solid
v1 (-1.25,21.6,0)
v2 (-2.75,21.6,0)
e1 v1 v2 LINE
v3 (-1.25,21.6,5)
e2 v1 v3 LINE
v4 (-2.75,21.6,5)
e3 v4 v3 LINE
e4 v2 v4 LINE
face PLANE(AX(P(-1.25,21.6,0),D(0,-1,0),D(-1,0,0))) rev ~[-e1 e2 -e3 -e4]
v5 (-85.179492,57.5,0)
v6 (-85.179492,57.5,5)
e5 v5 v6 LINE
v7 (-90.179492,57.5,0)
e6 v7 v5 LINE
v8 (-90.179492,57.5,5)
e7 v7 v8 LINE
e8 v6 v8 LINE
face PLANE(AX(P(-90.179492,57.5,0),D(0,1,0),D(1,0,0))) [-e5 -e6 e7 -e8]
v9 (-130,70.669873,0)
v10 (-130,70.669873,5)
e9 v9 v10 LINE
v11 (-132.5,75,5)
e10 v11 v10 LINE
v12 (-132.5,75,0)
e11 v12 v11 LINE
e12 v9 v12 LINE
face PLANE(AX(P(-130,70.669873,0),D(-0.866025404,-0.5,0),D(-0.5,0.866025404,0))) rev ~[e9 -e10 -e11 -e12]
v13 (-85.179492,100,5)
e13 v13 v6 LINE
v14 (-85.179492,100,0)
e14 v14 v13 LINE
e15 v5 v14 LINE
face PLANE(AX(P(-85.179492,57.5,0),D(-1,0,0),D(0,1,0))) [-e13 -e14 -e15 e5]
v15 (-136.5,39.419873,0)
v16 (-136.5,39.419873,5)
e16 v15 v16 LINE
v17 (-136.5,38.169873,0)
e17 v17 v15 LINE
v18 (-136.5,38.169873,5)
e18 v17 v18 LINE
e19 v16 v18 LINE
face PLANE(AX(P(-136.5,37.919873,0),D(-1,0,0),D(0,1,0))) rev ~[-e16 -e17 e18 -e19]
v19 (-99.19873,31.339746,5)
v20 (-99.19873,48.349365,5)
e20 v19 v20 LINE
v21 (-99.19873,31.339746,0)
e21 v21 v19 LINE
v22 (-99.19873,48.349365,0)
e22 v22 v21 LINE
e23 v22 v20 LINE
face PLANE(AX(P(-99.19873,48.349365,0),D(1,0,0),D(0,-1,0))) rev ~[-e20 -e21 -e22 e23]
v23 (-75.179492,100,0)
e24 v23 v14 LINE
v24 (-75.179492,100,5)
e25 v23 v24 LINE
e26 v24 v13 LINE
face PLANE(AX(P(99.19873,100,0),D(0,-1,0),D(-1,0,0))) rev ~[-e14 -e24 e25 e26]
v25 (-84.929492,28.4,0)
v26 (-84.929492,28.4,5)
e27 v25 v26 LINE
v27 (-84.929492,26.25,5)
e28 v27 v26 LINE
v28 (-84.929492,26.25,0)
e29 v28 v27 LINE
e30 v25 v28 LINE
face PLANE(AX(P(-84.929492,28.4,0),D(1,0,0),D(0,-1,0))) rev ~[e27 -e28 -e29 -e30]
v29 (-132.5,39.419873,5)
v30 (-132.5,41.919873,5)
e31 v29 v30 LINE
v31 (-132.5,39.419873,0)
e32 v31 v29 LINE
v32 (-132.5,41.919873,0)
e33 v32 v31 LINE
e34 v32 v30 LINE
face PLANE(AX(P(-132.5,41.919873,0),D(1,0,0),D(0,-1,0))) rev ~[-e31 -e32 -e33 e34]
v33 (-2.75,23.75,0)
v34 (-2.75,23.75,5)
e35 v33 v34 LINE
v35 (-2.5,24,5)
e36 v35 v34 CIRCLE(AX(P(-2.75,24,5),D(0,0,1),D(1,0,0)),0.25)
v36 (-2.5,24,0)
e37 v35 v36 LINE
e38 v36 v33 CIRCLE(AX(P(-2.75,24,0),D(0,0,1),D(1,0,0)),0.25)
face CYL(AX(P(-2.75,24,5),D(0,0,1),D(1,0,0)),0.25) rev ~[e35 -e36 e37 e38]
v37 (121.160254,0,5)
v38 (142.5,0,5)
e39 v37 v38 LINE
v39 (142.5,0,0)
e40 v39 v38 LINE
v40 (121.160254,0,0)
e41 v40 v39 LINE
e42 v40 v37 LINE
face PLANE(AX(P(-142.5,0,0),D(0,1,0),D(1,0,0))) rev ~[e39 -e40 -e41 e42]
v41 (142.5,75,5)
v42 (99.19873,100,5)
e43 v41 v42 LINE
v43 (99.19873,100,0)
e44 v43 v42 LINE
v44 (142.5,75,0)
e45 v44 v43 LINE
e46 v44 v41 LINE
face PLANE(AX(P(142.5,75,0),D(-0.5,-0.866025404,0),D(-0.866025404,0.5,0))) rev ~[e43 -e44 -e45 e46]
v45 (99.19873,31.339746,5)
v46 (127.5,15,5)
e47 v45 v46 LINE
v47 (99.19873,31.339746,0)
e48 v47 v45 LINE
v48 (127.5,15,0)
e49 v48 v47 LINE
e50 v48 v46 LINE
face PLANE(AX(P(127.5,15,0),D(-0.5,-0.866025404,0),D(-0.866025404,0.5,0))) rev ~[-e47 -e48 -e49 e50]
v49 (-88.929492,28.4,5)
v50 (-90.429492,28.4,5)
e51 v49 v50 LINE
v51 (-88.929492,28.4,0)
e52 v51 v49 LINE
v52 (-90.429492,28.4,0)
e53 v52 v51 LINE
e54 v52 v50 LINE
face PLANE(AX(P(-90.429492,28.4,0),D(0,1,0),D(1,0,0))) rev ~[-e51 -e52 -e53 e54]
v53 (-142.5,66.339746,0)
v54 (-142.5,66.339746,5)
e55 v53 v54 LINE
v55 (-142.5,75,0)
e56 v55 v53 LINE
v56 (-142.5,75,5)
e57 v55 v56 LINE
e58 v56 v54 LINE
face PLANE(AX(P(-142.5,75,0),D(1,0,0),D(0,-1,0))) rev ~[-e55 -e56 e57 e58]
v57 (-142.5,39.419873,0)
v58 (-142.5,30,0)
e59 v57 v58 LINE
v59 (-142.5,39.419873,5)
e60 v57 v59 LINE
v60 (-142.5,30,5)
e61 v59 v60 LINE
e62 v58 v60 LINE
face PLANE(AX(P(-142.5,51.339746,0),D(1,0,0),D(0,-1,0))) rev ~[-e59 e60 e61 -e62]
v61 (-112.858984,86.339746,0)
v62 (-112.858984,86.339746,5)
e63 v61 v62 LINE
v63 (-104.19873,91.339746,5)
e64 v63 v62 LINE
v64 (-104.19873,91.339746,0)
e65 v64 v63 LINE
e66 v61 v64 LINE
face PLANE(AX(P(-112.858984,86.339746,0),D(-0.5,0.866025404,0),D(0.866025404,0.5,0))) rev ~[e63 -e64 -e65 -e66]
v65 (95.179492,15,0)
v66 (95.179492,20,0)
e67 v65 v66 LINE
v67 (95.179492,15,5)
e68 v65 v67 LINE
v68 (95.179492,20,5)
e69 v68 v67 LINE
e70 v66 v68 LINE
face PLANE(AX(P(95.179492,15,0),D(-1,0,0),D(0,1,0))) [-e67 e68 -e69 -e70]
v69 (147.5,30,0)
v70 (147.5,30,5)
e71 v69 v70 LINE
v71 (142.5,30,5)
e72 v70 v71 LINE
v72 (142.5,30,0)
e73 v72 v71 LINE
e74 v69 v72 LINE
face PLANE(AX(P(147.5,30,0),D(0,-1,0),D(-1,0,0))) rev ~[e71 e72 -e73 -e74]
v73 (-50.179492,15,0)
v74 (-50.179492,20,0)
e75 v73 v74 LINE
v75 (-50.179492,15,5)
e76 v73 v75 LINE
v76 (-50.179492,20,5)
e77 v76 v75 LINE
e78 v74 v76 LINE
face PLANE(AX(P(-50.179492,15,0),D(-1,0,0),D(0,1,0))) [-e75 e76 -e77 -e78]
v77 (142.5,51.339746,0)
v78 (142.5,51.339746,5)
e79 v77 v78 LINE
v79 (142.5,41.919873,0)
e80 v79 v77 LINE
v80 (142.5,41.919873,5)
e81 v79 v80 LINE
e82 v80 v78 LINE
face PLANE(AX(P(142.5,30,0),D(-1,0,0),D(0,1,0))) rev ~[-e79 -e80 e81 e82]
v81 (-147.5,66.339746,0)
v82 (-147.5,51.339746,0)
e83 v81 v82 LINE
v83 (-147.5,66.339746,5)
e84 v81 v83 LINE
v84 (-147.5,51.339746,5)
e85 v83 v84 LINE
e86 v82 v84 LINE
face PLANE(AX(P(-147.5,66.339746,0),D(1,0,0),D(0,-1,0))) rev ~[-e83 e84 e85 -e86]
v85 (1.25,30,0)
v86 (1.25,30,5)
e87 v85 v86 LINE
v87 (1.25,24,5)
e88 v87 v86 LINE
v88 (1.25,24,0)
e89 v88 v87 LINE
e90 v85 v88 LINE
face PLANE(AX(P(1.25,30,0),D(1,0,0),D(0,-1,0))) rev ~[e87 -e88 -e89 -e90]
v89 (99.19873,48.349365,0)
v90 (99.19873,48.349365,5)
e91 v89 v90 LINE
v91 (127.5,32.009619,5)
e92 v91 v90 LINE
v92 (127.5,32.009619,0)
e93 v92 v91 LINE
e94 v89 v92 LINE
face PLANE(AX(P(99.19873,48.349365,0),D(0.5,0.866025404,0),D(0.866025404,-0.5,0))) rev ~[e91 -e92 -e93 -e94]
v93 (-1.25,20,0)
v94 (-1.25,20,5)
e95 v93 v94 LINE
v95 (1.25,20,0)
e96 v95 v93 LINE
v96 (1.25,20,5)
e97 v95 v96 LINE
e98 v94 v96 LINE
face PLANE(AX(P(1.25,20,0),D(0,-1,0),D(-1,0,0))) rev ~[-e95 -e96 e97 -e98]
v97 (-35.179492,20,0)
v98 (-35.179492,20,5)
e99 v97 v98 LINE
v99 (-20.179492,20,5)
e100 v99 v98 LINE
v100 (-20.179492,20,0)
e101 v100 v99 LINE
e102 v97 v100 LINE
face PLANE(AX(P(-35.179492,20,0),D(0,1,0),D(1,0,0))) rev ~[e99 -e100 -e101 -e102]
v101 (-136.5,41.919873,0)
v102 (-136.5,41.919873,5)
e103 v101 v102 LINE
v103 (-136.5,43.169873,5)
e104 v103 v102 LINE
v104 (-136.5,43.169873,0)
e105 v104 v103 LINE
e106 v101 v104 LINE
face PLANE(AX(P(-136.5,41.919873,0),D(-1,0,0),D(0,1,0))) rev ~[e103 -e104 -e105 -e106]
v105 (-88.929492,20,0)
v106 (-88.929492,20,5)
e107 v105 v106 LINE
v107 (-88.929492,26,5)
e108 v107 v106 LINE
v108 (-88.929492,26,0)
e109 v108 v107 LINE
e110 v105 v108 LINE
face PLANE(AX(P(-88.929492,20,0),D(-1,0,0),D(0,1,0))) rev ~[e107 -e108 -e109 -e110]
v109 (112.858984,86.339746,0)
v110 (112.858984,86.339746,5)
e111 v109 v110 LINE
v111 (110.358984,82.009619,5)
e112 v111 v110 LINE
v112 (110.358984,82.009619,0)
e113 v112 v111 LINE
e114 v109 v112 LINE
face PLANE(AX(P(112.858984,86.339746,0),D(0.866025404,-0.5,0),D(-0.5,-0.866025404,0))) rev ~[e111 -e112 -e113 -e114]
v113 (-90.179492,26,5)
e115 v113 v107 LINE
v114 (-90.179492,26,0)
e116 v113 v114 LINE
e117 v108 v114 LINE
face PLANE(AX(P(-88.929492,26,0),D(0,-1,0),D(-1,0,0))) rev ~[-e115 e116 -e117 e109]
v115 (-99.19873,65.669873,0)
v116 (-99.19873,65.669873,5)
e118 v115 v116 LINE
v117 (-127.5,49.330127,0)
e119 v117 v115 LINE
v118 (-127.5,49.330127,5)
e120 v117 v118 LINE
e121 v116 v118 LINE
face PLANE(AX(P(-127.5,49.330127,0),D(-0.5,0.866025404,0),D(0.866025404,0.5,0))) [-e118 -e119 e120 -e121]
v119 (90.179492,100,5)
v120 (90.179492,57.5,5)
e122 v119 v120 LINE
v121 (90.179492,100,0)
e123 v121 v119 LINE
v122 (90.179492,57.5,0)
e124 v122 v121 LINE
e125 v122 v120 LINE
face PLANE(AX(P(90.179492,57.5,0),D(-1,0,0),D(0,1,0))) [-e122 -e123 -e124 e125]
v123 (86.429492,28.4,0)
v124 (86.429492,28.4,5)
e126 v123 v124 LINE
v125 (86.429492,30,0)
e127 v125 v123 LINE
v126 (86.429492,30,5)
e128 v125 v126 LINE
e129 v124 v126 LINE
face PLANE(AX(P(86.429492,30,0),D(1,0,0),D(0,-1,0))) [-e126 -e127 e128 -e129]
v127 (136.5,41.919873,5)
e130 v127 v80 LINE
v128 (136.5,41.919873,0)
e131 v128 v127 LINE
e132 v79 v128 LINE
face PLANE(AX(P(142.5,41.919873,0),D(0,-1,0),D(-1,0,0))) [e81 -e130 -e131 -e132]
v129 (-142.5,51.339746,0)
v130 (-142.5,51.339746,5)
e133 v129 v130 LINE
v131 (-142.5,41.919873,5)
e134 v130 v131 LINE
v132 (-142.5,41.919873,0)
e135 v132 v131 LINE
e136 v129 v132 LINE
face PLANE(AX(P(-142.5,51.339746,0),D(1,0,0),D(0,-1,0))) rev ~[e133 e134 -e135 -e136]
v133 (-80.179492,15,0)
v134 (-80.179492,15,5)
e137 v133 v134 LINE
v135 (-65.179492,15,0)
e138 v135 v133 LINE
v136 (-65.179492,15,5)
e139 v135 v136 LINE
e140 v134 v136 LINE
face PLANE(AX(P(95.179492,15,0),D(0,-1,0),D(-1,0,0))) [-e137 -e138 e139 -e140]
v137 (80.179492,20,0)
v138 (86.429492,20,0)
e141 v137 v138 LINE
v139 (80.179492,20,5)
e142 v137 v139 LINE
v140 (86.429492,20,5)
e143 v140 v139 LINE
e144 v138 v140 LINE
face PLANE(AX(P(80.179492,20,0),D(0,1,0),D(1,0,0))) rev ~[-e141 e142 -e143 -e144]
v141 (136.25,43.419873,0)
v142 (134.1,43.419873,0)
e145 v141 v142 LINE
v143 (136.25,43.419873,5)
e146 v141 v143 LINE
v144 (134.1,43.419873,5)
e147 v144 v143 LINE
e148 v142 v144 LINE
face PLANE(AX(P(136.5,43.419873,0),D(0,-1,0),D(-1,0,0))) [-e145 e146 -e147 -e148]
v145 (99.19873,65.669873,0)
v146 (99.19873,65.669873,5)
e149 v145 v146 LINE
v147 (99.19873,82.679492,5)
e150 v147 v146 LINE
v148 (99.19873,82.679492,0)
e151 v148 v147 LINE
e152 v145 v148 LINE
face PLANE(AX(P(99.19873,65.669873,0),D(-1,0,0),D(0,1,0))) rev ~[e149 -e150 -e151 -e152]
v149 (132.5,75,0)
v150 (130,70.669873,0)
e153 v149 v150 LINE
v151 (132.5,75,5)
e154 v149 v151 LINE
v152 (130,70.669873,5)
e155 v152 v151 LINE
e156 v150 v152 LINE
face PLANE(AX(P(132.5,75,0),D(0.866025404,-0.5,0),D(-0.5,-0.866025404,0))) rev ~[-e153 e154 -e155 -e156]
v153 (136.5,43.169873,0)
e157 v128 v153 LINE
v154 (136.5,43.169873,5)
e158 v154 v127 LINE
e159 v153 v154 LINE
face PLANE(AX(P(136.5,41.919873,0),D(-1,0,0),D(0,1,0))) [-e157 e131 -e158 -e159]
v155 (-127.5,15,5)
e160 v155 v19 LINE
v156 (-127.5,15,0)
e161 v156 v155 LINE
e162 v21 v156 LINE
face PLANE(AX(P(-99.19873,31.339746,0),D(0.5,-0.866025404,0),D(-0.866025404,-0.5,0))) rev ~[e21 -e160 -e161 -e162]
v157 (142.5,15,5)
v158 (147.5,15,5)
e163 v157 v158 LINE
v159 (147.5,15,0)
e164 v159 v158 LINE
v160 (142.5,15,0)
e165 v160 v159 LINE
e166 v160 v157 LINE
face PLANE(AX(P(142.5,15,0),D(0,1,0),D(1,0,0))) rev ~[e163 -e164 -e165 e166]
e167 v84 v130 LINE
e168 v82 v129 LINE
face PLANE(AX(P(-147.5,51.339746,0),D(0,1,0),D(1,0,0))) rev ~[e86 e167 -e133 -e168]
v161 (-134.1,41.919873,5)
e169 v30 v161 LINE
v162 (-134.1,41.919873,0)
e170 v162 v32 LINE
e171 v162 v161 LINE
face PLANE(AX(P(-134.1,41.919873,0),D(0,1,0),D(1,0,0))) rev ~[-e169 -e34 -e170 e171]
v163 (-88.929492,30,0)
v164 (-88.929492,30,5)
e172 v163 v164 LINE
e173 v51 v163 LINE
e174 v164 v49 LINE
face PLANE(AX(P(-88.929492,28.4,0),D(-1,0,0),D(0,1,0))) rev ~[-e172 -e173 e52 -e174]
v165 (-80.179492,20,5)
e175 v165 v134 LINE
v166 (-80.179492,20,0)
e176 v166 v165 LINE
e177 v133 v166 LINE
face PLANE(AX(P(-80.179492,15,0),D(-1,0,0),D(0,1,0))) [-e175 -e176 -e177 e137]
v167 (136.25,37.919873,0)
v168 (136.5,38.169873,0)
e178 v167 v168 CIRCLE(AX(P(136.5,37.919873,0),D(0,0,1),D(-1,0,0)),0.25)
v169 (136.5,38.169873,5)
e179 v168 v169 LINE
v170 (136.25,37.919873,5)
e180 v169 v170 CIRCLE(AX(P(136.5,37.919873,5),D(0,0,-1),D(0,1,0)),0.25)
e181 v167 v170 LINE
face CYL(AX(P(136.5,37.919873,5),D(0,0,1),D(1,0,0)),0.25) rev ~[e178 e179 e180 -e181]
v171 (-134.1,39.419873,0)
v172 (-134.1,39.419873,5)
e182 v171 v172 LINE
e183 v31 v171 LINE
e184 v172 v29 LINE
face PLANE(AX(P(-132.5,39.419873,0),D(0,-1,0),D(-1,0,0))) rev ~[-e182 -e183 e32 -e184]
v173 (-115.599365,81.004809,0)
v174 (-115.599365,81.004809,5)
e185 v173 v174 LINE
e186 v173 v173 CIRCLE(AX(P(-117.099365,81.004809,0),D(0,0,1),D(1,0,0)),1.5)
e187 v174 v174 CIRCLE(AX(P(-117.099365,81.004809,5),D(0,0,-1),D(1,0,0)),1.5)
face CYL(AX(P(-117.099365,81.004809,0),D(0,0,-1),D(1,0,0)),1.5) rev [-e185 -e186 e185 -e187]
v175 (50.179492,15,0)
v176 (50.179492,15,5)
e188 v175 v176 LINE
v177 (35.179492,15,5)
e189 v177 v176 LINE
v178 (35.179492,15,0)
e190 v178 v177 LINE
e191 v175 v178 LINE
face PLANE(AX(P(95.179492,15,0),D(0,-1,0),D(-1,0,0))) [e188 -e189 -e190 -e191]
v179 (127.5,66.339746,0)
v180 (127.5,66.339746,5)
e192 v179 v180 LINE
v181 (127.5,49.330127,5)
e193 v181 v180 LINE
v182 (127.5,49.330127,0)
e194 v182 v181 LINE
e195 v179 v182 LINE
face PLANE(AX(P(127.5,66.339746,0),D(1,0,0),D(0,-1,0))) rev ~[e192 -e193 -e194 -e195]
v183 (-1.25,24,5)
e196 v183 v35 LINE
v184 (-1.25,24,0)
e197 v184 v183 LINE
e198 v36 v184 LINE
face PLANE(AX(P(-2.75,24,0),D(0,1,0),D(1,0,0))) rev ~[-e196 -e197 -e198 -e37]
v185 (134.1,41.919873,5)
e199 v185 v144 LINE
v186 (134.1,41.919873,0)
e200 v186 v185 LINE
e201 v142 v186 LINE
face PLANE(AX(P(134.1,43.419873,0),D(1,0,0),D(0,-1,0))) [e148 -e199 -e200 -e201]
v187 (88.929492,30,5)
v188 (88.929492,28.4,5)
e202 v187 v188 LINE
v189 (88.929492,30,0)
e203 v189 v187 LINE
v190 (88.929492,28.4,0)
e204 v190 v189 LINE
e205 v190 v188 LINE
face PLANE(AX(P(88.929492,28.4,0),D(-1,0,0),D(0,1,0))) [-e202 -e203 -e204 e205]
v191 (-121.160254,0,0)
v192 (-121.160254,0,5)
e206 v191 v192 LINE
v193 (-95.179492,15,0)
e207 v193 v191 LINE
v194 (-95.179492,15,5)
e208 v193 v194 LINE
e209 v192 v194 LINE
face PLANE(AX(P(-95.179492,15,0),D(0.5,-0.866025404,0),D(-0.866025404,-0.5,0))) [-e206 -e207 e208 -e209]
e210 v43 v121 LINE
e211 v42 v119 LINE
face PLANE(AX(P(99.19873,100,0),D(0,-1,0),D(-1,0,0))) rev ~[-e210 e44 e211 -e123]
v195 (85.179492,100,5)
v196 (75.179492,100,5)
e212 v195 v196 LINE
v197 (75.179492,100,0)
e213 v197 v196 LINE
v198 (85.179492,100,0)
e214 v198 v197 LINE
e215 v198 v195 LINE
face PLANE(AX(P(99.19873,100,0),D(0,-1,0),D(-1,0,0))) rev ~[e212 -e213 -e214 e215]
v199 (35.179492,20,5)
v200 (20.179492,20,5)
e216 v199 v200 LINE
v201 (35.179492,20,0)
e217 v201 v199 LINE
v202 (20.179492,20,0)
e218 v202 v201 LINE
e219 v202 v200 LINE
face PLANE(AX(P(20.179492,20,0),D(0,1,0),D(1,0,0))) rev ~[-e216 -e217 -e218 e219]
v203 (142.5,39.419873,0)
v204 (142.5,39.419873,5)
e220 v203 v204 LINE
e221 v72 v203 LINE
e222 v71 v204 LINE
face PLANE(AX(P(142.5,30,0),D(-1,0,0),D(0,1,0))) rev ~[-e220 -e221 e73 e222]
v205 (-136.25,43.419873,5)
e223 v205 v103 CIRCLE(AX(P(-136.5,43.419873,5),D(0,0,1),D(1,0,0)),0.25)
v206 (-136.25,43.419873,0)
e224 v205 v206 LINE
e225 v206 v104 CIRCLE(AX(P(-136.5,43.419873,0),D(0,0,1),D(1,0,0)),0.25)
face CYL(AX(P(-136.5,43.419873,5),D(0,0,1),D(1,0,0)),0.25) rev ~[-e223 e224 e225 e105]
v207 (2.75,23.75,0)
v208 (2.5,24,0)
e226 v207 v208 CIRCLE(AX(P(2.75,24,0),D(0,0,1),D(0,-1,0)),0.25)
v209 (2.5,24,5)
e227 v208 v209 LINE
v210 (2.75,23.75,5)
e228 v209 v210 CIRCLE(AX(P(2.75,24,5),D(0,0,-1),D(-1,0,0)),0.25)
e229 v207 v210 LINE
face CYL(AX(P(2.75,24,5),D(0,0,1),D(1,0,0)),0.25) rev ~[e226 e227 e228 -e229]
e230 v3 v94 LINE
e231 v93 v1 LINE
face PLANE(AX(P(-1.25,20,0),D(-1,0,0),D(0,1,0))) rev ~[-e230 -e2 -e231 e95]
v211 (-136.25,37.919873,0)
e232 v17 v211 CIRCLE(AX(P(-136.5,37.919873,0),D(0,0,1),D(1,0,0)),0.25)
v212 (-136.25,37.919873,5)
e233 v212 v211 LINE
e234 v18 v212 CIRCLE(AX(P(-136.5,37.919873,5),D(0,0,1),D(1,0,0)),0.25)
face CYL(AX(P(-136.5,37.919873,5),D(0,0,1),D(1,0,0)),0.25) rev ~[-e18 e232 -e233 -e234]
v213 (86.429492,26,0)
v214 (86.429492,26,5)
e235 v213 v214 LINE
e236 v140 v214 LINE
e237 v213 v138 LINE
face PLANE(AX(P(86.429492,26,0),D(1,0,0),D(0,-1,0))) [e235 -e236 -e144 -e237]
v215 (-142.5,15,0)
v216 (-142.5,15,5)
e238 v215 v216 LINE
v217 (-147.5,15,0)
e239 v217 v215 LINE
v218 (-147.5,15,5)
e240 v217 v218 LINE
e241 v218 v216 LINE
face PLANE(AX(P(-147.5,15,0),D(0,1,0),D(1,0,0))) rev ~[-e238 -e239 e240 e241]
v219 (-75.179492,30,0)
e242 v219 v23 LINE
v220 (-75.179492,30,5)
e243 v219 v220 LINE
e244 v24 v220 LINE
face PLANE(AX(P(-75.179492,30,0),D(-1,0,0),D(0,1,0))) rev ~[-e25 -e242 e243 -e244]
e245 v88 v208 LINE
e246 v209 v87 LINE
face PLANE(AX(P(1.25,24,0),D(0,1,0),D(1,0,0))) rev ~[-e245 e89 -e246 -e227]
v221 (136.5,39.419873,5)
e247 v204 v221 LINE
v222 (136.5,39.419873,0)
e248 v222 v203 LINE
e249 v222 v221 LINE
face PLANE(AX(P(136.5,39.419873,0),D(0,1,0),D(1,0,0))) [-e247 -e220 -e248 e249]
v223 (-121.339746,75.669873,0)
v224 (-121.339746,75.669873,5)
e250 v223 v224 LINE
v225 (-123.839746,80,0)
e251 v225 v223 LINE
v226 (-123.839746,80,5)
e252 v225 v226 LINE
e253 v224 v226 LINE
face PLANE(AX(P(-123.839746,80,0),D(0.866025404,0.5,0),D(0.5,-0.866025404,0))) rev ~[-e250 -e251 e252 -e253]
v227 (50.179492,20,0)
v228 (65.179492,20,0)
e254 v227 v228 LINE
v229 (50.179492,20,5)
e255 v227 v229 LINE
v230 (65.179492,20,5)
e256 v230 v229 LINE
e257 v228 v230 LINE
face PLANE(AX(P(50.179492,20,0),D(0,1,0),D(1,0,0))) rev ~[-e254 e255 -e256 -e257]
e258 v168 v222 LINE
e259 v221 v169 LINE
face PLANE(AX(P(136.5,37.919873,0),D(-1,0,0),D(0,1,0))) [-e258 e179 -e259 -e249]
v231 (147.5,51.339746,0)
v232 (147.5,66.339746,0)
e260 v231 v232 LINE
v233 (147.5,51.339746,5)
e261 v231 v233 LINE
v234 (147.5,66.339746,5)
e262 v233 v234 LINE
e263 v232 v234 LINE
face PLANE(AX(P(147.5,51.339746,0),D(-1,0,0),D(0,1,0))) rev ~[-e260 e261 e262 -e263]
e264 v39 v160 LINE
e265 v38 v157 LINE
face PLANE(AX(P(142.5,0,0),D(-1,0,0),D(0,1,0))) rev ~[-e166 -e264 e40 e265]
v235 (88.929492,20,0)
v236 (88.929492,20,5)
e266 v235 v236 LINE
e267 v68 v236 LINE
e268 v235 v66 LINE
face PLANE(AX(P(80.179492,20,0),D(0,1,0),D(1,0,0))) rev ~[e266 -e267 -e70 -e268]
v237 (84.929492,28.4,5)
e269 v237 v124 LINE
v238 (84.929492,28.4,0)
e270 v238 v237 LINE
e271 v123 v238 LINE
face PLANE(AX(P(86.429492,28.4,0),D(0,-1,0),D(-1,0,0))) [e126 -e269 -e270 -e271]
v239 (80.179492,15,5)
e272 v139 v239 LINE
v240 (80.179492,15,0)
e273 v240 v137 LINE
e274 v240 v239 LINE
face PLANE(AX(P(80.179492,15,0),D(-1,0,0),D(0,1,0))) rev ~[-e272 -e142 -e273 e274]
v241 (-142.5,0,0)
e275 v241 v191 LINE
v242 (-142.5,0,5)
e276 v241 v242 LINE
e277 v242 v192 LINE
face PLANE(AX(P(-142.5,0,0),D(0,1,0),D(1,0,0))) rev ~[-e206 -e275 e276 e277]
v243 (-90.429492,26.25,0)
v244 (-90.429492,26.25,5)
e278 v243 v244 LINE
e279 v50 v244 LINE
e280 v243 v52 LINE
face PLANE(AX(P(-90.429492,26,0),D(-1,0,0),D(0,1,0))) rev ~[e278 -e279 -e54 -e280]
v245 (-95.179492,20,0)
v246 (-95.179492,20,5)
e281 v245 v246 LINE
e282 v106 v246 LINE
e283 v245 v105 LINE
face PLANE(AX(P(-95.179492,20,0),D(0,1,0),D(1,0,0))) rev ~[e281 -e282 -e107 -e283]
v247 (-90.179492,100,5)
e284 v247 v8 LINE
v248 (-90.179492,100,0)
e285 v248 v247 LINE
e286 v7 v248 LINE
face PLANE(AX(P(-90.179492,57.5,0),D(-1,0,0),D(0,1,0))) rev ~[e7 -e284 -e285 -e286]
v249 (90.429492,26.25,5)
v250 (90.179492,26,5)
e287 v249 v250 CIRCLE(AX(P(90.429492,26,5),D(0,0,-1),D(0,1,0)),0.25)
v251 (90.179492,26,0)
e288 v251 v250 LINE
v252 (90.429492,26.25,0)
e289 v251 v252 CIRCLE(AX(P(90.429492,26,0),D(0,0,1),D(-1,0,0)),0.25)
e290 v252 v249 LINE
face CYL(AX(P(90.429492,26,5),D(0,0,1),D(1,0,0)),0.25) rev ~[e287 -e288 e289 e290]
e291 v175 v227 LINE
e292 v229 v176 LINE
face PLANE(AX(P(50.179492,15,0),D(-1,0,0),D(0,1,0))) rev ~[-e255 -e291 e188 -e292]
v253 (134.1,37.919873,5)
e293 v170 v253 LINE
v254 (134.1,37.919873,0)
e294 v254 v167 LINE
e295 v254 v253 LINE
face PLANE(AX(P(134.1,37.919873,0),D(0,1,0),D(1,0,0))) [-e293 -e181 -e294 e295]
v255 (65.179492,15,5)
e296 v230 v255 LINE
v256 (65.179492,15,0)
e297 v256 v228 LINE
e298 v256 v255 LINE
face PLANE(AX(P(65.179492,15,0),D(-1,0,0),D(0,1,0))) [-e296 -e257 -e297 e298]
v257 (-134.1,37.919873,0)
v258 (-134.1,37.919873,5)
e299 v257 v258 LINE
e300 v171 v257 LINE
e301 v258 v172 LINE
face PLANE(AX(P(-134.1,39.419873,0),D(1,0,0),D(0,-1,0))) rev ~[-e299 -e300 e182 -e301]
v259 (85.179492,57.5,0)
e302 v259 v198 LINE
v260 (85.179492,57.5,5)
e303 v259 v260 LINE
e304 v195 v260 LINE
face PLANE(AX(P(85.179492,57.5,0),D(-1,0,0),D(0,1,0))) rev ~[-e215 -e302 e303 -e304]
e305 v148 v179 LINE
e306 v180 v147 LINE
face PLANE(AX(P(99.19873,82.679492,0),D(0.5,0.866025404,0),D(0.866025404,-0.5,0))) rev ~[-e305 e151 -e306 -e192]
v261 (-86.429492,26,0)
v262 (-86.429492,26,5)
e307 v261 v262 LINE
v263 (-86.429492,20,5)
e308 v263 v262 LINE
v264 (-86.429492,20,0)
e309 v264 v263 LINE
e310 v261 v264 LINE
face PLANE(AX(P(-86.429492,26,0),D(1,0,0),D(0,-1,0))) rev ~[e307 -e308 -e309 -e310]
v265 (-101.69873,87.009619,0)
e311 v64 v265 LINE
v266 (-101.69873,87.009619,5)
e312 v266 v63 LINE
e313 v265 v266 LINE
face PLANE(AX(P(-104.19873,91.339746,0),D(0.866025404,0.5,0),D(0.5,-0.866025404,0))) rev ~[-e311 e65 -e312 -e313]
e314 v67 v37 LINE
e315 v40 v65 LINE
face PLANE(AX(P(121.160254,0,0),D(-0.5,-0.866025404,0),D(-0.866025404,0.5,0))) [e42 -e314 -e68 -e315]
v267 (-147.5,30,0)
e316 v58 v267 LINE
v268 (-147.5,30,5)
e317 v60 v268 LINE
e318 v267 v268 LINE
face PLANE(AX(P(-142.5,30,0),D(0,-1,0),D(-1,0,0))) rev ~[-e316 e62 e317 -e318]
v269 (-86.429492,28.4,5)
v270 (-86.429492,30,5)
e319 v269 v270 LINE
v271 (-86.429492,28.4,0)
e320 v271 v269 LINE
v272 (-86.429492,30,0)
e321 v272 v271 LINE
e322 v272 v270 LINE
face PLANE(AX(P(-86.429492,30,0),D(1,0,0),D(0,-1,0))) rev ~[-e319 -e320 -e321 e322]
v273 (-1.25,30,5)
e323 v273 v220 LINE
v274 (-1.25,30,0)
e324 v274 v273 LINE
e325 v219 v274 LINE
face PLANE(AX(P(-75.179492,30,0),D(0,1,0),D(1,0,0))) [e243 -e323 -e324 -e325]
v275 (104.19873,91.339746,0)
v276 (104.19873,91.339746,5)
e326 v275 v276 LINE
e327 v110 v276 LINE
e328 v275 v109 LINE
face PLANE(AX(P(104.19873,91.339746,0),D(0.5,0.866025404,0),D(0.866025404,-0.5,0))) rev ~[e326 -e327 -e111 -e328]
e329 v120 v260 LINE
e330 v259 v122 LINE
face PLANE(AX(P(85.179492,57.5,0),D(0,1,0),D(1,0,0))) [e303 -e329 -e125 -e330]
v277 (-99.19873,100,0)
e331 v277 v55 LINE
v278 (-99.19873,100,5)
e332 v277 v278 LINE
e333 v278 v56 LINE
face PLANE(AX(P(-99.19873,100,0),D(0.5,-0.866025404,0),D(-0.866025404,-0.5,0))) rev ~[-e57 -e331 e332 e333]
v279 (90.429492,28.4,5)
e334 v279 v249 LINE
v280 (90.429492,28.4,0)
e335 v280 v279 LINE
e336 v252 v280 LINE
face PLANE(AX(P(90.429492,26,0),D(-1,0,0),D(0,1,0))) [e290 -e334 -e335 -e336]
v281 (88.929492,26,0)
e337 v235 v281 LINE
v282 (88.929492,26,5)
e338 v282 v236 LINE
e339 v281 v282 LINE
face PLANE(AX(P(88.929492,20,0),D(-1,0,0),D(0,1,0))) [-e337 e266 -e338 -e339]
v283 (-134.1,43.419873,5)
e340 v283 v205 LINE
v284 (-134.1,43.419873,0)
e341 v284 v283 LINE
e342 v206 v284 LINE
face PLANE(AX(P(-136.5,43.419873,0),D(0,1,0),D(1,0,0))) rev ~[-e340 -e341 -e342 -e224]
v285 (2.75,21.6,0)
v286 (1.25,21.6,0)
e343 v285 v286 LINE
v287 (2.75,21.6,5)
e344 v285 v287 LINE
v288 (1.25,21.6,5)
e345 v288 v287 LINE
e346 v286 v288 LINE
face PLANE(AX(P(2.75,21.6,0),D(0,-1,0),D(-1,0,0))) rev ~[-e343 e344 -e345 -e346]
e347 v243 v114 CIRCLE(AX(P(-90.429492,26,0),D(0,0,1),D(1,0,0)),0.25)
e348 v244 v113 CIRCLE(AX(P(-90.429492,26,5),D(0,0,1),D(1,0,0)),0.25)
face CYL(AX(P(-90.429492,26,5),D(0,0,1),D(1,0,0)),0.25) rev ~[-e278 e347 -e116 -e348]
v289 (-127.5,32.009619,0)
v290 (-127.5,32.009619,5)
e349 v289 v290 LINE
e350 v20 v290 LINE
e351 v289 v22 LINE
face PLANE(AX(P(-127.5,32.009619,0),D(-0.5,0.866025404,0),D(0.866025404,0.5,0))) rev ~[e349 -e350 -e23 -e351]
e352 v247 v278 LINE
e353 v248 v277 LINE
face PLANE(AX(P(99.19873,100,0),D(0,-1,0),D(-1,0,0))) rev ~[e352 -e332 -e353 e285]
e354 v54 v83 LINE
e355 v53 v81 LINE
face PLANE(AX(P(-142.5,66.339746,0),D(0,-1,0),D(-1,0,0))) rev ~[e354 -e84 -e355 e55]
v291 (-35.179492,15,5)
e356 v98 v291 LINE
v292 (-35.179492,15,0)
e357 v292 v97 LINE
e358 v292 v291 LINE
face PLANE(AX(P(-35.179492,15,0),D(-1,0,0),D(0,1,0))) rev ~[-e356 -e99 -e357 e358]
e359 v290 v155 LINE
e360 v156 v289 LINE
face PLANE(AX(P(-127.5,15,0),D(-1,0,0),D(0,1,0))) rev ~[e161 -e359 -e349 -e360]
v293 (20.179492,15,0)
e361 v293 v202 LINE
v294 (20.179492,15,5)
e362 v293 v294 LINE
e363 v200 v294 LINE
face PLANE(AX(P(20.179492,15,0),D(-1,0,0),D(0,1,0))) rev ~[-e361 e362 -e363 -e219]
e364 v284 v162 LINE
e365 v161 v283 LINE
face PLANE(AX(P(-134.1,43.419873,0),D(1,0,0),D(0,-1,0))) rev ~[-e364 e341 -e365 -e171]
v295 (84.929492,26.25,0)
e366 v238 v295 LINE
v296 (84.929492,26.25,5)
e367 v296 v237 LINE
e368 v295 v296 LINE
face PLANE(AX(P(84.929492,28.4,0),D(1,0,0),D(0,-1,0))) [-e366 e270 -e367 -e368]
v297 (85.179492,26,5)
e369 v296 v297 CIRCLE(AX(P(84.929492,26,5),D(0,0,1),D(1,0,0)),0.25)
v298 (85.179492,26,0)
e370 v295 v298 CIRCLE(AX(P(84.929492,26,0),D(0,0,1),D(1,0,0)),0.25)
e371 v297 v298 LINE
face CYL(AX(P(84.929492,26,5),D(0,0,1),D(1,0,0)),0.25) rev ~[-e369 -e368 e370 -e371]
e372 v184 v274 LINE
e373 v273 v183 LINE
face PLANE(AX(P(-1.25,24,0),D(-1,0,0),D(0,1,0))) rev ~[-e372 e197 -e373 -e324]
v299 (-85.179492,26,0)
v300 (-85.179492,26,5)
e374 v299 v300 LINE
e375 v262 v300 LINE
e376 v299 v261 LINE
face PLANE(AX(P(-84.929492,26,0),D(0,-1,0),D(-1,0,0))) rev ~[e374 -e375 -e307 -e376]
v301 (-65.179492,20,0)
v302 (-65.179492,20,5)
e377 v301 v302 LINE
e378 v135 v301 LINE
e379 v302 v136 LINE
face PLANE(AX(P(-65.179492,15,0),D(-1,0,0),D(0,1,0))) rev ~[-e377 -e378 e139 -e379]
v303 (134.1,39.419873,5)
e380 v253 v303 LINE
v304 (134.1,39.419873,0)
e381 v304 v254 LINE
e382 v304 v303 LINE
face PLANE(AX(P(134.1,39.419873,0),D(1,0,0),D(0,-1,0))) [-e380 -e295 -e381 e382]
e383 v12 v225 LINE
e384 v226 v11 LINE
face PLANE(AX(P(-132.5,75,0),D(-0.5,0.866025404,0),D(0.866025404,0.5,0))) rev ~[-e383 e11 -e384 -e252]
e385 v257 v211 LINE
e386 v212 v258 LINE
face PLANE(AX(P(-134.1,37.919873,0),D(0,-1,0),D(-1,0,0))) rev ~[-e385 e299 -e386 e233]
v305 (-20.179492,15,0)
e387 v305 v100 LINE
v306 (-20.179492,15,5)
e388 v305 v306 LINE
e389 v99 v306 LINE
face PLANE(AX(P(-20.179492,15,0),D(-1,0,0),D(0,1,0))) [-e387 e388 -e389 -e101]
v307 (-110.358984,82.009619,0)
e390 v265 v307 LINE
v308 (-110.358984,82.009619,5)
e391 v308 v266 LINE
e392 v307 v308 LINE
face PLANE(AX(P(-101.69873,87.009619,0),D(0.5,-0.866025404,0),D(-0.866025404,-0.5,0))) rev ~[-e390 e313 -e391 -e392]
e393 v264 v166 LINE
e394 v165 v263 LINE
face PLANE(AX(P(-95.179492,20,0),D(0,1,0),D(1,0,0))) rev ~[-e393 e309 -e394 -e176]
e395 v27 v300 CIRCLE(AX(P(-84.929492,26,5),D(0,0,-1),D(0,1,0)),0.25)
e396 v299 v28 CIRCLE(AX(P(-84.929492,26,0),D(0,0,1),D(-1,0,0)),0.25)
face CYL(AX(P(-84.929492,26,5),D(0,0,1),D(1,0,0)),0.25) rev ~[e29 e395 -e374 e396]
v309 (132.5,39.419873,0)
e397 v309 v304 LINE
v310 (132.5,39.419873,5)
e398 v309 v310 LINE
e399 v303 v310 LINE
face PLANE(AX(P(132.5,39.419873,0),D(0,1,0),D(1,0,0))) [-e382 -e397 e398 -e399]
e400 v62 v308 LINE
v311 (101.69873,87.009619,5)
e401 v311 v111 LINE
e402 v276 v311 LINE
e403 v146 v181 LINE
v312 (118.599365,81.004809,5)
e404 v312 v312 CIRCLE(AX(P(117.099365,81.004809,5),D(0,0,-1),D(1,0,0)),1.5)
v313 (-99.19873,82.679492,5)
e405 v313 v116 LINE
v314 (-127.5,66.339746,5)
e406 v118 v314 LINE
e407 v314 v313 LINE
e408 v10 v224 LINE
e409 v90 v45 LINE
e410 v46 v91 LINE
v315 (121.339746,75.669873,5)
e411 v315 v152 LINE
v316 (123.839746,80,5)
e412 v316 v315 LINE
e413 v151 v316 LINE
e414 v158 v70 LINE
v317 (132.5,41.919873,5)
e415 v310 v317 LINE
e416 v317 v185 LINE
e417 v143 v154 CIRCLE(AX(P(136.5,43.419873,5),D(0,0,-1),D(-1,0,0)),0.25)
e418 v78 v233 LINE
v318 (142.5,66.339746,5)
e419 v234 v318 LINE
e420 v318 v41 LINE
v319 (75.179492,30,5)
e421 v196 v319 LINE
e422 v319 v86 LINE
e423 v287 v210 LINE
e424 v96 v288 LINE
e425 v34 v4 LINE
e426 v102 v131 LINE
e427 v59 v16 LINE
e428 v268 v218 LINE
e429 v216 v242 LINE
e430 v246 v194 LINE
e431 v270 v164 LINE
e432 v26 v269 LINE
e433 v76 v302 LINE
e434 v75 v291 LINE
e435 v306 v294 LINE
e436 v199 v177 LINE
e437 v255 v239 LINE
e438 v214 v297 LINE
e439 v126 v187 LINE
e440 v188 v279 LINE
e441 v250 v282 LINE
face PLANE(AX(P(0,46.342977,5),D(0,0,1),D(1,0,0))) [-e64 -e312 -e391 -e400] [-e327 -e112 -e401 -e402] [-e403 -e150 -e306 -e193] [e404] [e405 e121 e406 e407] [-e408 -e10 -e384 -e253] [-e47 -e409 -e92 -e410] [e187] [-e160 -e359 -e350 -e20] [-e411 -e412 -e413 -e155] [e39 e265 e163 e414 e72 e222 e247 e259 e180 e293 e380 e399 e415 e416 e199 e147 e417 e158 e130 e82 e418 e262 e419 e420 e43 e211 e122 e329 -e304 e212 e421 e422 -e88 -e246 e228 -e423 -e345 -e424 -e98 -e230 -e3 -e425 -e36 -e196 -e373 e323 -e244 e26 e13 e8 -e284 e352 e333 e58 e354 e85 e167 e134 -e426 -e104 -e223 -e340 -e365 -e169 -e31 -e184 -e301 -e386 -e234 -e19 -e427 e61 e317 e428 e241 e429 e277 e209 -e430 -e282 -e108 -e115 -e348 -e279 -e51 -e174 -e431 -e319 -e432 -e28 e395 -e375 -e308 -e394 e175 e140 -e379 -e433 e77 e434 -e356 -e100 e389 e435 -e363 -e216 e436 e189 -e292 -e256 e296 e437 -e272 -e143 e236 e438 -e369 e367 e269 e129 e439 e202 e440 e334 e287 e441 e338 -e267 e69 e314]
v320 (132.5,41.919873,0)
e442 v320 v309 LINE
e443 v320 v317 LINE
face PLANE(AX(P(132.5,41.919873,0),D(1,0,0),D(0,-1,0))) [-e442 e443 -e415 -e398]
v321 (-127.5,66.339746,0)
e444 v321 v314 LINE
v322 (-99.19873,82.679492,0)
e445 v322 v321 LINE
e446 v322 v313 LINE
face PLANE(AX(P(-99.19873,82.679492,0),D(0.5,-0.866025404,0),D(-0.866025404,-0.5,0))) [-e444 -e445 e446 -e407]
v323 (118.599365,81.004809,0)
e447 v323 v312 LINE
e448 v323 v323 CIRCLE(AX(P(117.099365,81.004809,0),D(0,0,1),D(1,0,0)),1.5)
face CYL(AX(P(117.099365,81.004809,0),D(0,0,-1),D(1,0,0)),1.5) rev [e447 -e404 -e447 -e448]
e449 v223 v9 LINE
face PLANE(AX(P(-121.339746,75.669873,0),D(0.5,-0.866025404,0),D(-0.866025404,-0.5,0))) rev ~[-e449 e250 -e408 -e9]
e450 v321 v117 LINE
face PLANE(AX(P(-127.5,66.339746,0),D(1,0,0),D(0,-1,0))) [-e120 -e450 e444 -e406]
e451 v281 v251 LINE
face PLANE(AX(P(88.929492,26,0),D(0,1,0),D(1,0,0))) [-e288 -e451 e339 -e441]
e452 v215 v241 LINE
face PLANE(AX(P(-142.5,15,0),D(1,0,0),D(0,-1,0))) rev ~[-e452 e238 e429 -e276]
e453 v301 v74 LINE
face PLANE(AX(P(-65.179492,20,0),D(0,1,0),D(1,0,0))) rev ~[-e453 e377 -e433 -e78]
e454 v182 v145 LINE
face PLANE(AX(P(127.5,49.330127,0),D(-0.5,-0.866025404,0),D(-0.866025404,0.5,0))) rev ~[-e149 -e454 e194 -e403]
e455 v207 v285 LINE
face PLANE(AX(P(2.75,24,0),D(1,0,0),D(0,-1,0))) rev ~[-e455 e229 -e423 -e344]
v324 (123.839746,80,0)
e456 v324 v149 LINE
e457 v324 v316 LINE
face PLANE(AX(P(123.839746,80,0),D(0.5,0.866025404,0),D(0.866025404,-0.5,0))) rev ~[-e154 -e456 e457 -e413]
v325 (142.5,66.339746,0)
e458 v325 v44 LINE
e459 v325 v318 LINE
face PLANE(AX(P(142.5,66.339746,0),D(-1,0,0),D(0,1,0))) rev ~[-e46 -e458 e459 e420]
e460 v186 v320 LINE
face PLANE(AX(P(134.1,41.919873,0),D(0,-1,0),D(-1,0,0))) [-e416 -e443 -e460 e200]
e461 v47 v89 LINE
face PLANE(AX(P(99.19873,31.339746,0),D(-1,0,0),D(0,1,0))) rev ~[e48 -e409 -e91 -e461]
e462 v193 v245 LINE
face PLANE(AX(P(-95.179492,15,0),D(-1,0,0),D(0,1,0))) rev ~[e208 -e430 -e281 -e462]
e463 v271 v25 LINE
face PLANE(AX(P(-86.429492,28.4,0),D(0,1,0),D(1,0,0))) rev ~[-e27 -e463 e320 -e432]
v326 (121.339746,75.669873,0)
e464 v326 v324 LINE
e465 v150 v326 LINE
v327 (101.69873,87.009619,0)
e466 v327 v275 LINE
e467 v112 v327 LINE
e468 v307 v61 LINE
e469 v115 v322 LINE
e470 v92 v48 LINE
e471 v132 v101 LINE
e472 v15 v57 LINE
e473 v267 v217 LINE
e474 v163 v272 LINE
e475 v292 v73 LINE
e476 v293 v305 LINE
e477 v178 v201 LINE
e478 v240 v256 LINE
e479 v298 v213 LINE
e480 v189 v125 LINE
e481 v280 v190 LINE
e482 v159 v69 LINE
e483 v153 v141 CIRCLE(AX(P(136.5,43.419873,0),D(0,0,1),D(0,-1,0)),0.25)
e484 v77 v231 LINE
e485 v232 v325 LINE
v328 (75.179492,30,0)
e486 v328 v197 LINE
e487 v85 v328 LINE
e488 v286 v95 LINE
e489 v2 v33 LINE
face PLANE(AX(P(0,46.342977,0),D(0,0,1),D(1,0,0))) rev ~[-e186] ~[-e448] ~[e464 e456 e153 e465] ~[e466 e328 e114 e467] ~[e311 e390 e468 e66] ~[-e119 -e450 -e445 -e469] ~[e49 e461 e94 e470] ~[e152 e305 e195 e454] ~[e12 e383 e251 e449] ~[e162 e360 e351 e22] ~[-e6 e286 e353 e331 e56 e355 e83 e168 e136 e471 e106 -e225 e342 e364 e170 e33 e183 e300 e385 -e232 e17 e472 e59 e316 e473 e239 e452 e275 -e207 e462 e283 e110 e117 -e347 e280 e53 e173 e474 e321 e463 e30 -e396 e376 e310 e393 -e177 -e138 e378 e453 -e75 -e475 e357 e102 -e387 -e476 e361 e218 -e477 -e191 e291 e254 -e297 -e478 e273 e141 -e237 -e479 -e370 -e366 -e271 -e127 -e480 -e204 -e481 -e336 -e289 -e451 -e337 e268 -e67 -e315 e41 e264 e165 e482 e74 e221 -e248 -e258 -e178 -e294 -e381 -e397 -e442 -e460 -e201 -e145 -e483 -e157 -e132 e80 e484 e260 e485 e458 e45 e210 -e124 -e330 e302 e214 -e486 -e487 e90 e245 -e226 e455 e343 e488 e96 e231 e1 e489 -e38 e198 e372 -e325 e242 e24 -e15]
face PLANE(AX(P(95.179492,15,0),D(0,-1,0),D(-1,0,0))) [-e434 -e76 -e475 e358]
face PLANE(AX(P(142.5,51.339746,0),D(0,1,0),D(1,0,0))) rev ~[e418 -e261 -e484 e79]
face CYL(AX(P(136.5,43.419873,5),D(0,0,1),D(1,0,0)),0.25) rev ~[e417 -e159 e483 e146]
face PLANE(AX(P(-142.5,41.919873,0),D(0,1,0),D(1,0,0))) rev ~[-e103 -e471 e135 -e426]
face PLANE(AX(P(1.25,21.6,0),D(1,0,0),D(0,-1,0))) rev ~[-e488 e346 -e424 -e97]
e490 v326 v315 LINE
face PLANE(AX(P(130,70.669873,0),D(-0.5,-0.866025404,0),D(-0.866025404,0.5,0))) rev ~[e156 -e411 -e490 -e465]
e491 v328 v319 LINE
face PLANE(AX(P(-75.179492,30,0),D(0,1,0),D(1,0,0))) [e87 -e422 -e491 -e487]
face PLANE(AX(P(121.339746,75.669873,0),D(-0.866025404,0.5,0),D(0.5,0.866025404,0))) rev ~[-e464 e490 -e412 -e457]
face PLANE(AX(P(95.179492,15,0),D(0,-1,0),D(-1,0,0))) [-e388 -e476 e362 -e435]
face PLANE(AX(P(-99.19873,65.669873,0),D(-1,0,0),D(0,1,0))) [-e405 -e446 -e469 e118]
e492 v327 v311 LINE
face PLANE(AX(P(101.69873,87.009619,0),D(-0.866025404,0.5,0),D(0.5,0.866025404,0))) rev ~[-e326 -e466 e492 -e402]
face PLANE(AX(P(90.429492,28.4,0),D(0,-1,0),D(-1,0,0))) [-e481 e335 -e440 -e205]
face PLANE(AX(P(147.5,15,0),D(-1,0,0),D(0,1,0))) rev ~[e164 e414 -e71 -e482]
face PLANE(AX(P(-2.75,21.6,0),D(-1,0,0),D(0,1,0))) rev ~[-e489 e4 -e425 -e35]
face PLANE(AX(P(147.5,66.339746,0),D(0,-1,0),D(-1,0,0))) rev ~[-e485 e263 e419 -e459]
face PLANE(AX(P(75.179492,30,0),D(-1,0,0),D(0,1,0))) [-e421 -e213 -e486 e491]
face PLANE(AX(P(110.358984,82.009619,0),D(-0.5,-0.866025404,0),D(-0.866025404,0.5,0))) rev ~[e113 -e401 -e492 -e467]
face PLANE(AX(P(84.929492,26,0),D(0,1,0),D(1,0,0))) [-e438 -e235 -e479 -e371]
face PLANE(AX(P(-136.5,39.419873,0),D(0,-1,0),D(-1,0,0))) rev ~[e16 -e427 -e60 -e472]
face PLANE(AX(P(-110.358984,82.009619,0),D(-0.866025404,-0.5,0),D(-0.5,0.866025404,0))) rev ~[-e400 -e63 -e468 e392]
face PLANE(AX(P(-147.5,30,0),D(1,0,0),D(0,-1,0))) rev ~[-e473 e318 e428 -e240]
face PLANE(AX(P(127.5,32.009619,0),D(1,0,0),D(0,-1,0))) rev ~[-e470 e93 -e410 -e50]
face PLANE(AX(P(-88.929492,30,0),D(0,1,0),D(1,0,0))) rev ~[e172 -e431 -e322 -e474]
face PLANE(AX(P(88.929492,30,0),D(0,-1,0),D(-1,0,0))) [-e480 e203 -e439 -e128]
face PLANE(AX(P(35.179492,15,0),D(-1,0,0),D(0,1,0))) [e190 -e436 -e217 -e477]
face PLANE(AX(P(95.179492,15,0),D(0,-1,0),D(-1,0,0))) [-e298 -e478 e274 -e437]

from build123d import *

# Parameters (mm, degrees)
ESTRUSIONE_ESTRUSIONE1_DEPTH = 5
SCHIZZO2_R                   = 1.5
TAGLIO_ESTRUSIONE2_DEPTH     = 6
SCHIZZO5_W                   = 15
SCHIZZO5_H                   = 5
SCHIZZO5_W_2                 = 5
SCHIZZO5_H_2                 = 42.5
SCHIZZO5_W_3                 = 150.358983848
SCHIZZO5_H_3                 = 70
TAGLIO_ESTRUSIONE3_DEPTH     = 6
TAGLIO_ESTRUSIONE4_DEPTH     = 6
SCHIZZO7_R                   = 0.25
TAGLIO_ESTRUSIONE5_DEPTH     = 10


with BuildPart() as part:
    # Schizzo1 → Estrusione-Estrusione1 (new body)
    with BuildSketch(Plane.XY):
        Polygon((-142.5, 75), (-142.5, 66.339745962), (-147.5, 66.339745962), (-147.5, 51.339745962), (-142.5, 51.339745962), (-142.5, 30), (-147.5, 30), (-147.5, 15), (-142.5, 15), (-142.5, 0), (142.5, 0), (142.5, 15), (147.5, 15), (147.5, 30), (142.5, 30), (142.5, 51.339745962), (147.5, 51.339745962), (147.5, 66.339745962), (142.5, 66.339745962), (142.5, 75), (99.198729811, 100), (-99.198729811, 100), align=None)
    extrude(amount=ESTRUSIONE_ESTRUSIONE1_DEPTH)

    # Schizzo2 → Taglio-Estrusione2 (cut, through all)
    with BuildSketch(Plane.XY):
        with Locations((-117.099364905, 81.004809472)):
            Circle(SCHIZZO2_R)
        with Locations((117.099364905, 81.004809472)):
            Circle(SCHIZZO2_R)
        Polygon((-99.198729811, 82.679491924), (-127.5, 66.339745962), (-127.5, 49.330127019), (-99.198729811, 65.669872981), align=None)
        Polygon((99.198729811, 31.339745962), (99.198729811, 48.349364905), (127.5, 32.009618943), (127.5, 15), align=None)
        Polygon((-95.179491924, 15), (-121.160254038, 0), (121.160254038, 0), (95.179491924, 15), align=None)
        Polygon((-99.198729811, 31.339745962), (-127.5, 15), (-127.5, 32.009618943), (-99.198729811, 48.349364905), align=None)
        Polygon((99.198729811, 65.669872981), (99.198729811, 82.679491924), (127.5, 66.339745962), (127.5, 49.330127019), align=None)
        Polygon((-132.5, 75), (-123.839745962, 80), (-121.339745962, 75.669872981), (-130, 70.669872981), align=None)
        Polygon((-104.198729811, 91.339745962), (-101.698729811, 87.009618943), (-110.358983849, 82.009618943), (-112.858983849, 86.339745962), align=None)
        Polygon((132.5, 75), (130, 70.669872981), (121.339745962, 75.669872981), (123.839745962, 80), align=None)
        Polygon((104.198729811, 91.339745962), (112.858983849, 86.339745962), (110.358983849, 82.009618943), (101.698729811, 87.009618943), align=None)
    extrude(amount=TAGLIO_ESTRUSIONE2_DEPTH, mode=Mode.SUBTRACT)

    # Schizzo5 → Taglio-Estrusione3 (cut, through all)
    with BuildSketch(Plane.XY):
        with Locations((-87.679491924, 17.5)):
            Rectangle(SCHIZZO5_W, SCHIZZO5_H)
        with Locations((-57.679491924, 17.5)):
            Rectangle(SCHIZZO5_W, SCHIZZO5_H)
        with Locations((-27.679491924, 17.5)):
            Rectangle(SCHIZZO5_W, SCHIZZO5_H)
        with Locations((27.679491924, 17.5)):
            Rectangle(SCHIZZO5_W, SCHIZZO5_H)
        with Locations((57.679491924, 17.5)):
            Rectangle(SCHIZZO5_W, SCHIZZO5_H)
        with Locations((87.679491924, 17.5)):
            Rectangle(SCHIZZO5_W, SCHIZZO5_H)
        with Locations((87.679491924, 78.75)):
            Rectangle(SCHIZZO5_W_2, SCHIZZO5_H_2)
        with Locations((-87.679491924, 78.75)):
            Rectangle(SCHIZZO5_W_2, SCHIZZO5_H_2)
        with Locations((0, 65)):
            Rectangle(SCHIZZO5_W_3, SCHIZZO5_H_3)
    extrude(amount=TAGLIO_ESTRUSIONE3_DEPTH, mode=Mode.SUBTRACT)

    # Schizzo6 → Taglio-Estrusione4 (cut, through all)
    with BuildSketch(Plane.XY):
        Polygon((-142.5, 41.919872981), (-136.5, 41.919872981), (-136.5, 43.419872981), (-134.1, 43.419872981), (-134.1, 41.919872981), (-132.5, 41.919872981), (-132.5, 39.419872981), (-134.1, 39.419872981), (-134.1, 37.919872981), (-136.5, 37.919872981), (-136.5, 39.419872981), (-142.5, 39.419872981), align=None)
        Polygon((134.1, 43.419872981), (134.1, 41.919872981), (132.5, 41.919872981), (132.5, 39.419872981), (134.1, 39.419872981), (134.1, 37.919872981), (136.5, 37.919872981), (136.5, 39.419872981), (142.5, 39.419872981), (142.5, 41.919872981), (136.5, 41.919872981), (136.5, 43.419872981), align=None)
        Polygon((-88.929491924, 20), (-88.929491924, 26), (-90.429491924, 26), (-90.429491924, 28.4), (-88.929491924, 28.4), (-88.929491924, 30), (-86.429491924, 30), (-86.429491924, 28.4), (-84.929491924, 28.4), (-84.929491924, 26), (-86.429491924, 26), (-86.429491924, 20), align=None)
        Polygon((86.429491924, 20), (88.929491924, 20), (88.929491924, 26), (90.429491924, 26), (90.429491924, 28.4), (88.929491924, 28.4), (88.929491924, 30), (86.429491924, 30), (86.429491924, 28.4), (84.929491924, 28.4), (84.929491924, 26), (86.429491924, 26), align=None)
        Polygon((-1.25, 20), (-1.25, 21.6), (-2.75, 21.6), (-2.75, 24), (-1.25, 24), (-1.25, 30), (1.25, 30), (1.25, 24), (2.75, 24), (2.75, 21.6), (1.25, 21.6), (1.25, 20), align=None)
    extrude(amount=TAGLIO_ESTRUSIONE4_DEPTH, mode=Mode.SUBTRACT)

    # Schizzo7 → Taglio-Estrusione5 (cut)
    with BuildSketch(Plane.XY.offset(5)):
        with Locations((-136.5, 43.419872981)):
            Circle(SCHIZZO7_R)
        with Locations((-136.5, 37.919872981)):
            Circle(SCHIZZO7_R)
        with Locations((-90.429491924, 26)):
            Circle(SCHIZZO7_R)
        with Locations((-84.929491924, 26)):
            Circle(SCHIZZO7_R)
        with Locations((-2.75, 24)):
            Circle(SCHIZZO7_R)
        with Locations((2.75, 24)):
            Circle(SCHIZZO7_R)
        with Locations((84.929491924, 26)):
            Circle(SCHIZZO7_R)
        with Locations((90.429491924, 26)):
            Circle(SCHIZZO7_R)
        with Locations((136.5, 43.419872981)):
            Circle(SCHIZZO7_R)
        with Locations((136.5, 37.919872981)):
            Circle(SCHIZZO7_R)
    extrude(amount=-TAGLIO_ESTRUSIONE5_DEPTH, mode=Mode.SUBTRACT)


solid = part.part
